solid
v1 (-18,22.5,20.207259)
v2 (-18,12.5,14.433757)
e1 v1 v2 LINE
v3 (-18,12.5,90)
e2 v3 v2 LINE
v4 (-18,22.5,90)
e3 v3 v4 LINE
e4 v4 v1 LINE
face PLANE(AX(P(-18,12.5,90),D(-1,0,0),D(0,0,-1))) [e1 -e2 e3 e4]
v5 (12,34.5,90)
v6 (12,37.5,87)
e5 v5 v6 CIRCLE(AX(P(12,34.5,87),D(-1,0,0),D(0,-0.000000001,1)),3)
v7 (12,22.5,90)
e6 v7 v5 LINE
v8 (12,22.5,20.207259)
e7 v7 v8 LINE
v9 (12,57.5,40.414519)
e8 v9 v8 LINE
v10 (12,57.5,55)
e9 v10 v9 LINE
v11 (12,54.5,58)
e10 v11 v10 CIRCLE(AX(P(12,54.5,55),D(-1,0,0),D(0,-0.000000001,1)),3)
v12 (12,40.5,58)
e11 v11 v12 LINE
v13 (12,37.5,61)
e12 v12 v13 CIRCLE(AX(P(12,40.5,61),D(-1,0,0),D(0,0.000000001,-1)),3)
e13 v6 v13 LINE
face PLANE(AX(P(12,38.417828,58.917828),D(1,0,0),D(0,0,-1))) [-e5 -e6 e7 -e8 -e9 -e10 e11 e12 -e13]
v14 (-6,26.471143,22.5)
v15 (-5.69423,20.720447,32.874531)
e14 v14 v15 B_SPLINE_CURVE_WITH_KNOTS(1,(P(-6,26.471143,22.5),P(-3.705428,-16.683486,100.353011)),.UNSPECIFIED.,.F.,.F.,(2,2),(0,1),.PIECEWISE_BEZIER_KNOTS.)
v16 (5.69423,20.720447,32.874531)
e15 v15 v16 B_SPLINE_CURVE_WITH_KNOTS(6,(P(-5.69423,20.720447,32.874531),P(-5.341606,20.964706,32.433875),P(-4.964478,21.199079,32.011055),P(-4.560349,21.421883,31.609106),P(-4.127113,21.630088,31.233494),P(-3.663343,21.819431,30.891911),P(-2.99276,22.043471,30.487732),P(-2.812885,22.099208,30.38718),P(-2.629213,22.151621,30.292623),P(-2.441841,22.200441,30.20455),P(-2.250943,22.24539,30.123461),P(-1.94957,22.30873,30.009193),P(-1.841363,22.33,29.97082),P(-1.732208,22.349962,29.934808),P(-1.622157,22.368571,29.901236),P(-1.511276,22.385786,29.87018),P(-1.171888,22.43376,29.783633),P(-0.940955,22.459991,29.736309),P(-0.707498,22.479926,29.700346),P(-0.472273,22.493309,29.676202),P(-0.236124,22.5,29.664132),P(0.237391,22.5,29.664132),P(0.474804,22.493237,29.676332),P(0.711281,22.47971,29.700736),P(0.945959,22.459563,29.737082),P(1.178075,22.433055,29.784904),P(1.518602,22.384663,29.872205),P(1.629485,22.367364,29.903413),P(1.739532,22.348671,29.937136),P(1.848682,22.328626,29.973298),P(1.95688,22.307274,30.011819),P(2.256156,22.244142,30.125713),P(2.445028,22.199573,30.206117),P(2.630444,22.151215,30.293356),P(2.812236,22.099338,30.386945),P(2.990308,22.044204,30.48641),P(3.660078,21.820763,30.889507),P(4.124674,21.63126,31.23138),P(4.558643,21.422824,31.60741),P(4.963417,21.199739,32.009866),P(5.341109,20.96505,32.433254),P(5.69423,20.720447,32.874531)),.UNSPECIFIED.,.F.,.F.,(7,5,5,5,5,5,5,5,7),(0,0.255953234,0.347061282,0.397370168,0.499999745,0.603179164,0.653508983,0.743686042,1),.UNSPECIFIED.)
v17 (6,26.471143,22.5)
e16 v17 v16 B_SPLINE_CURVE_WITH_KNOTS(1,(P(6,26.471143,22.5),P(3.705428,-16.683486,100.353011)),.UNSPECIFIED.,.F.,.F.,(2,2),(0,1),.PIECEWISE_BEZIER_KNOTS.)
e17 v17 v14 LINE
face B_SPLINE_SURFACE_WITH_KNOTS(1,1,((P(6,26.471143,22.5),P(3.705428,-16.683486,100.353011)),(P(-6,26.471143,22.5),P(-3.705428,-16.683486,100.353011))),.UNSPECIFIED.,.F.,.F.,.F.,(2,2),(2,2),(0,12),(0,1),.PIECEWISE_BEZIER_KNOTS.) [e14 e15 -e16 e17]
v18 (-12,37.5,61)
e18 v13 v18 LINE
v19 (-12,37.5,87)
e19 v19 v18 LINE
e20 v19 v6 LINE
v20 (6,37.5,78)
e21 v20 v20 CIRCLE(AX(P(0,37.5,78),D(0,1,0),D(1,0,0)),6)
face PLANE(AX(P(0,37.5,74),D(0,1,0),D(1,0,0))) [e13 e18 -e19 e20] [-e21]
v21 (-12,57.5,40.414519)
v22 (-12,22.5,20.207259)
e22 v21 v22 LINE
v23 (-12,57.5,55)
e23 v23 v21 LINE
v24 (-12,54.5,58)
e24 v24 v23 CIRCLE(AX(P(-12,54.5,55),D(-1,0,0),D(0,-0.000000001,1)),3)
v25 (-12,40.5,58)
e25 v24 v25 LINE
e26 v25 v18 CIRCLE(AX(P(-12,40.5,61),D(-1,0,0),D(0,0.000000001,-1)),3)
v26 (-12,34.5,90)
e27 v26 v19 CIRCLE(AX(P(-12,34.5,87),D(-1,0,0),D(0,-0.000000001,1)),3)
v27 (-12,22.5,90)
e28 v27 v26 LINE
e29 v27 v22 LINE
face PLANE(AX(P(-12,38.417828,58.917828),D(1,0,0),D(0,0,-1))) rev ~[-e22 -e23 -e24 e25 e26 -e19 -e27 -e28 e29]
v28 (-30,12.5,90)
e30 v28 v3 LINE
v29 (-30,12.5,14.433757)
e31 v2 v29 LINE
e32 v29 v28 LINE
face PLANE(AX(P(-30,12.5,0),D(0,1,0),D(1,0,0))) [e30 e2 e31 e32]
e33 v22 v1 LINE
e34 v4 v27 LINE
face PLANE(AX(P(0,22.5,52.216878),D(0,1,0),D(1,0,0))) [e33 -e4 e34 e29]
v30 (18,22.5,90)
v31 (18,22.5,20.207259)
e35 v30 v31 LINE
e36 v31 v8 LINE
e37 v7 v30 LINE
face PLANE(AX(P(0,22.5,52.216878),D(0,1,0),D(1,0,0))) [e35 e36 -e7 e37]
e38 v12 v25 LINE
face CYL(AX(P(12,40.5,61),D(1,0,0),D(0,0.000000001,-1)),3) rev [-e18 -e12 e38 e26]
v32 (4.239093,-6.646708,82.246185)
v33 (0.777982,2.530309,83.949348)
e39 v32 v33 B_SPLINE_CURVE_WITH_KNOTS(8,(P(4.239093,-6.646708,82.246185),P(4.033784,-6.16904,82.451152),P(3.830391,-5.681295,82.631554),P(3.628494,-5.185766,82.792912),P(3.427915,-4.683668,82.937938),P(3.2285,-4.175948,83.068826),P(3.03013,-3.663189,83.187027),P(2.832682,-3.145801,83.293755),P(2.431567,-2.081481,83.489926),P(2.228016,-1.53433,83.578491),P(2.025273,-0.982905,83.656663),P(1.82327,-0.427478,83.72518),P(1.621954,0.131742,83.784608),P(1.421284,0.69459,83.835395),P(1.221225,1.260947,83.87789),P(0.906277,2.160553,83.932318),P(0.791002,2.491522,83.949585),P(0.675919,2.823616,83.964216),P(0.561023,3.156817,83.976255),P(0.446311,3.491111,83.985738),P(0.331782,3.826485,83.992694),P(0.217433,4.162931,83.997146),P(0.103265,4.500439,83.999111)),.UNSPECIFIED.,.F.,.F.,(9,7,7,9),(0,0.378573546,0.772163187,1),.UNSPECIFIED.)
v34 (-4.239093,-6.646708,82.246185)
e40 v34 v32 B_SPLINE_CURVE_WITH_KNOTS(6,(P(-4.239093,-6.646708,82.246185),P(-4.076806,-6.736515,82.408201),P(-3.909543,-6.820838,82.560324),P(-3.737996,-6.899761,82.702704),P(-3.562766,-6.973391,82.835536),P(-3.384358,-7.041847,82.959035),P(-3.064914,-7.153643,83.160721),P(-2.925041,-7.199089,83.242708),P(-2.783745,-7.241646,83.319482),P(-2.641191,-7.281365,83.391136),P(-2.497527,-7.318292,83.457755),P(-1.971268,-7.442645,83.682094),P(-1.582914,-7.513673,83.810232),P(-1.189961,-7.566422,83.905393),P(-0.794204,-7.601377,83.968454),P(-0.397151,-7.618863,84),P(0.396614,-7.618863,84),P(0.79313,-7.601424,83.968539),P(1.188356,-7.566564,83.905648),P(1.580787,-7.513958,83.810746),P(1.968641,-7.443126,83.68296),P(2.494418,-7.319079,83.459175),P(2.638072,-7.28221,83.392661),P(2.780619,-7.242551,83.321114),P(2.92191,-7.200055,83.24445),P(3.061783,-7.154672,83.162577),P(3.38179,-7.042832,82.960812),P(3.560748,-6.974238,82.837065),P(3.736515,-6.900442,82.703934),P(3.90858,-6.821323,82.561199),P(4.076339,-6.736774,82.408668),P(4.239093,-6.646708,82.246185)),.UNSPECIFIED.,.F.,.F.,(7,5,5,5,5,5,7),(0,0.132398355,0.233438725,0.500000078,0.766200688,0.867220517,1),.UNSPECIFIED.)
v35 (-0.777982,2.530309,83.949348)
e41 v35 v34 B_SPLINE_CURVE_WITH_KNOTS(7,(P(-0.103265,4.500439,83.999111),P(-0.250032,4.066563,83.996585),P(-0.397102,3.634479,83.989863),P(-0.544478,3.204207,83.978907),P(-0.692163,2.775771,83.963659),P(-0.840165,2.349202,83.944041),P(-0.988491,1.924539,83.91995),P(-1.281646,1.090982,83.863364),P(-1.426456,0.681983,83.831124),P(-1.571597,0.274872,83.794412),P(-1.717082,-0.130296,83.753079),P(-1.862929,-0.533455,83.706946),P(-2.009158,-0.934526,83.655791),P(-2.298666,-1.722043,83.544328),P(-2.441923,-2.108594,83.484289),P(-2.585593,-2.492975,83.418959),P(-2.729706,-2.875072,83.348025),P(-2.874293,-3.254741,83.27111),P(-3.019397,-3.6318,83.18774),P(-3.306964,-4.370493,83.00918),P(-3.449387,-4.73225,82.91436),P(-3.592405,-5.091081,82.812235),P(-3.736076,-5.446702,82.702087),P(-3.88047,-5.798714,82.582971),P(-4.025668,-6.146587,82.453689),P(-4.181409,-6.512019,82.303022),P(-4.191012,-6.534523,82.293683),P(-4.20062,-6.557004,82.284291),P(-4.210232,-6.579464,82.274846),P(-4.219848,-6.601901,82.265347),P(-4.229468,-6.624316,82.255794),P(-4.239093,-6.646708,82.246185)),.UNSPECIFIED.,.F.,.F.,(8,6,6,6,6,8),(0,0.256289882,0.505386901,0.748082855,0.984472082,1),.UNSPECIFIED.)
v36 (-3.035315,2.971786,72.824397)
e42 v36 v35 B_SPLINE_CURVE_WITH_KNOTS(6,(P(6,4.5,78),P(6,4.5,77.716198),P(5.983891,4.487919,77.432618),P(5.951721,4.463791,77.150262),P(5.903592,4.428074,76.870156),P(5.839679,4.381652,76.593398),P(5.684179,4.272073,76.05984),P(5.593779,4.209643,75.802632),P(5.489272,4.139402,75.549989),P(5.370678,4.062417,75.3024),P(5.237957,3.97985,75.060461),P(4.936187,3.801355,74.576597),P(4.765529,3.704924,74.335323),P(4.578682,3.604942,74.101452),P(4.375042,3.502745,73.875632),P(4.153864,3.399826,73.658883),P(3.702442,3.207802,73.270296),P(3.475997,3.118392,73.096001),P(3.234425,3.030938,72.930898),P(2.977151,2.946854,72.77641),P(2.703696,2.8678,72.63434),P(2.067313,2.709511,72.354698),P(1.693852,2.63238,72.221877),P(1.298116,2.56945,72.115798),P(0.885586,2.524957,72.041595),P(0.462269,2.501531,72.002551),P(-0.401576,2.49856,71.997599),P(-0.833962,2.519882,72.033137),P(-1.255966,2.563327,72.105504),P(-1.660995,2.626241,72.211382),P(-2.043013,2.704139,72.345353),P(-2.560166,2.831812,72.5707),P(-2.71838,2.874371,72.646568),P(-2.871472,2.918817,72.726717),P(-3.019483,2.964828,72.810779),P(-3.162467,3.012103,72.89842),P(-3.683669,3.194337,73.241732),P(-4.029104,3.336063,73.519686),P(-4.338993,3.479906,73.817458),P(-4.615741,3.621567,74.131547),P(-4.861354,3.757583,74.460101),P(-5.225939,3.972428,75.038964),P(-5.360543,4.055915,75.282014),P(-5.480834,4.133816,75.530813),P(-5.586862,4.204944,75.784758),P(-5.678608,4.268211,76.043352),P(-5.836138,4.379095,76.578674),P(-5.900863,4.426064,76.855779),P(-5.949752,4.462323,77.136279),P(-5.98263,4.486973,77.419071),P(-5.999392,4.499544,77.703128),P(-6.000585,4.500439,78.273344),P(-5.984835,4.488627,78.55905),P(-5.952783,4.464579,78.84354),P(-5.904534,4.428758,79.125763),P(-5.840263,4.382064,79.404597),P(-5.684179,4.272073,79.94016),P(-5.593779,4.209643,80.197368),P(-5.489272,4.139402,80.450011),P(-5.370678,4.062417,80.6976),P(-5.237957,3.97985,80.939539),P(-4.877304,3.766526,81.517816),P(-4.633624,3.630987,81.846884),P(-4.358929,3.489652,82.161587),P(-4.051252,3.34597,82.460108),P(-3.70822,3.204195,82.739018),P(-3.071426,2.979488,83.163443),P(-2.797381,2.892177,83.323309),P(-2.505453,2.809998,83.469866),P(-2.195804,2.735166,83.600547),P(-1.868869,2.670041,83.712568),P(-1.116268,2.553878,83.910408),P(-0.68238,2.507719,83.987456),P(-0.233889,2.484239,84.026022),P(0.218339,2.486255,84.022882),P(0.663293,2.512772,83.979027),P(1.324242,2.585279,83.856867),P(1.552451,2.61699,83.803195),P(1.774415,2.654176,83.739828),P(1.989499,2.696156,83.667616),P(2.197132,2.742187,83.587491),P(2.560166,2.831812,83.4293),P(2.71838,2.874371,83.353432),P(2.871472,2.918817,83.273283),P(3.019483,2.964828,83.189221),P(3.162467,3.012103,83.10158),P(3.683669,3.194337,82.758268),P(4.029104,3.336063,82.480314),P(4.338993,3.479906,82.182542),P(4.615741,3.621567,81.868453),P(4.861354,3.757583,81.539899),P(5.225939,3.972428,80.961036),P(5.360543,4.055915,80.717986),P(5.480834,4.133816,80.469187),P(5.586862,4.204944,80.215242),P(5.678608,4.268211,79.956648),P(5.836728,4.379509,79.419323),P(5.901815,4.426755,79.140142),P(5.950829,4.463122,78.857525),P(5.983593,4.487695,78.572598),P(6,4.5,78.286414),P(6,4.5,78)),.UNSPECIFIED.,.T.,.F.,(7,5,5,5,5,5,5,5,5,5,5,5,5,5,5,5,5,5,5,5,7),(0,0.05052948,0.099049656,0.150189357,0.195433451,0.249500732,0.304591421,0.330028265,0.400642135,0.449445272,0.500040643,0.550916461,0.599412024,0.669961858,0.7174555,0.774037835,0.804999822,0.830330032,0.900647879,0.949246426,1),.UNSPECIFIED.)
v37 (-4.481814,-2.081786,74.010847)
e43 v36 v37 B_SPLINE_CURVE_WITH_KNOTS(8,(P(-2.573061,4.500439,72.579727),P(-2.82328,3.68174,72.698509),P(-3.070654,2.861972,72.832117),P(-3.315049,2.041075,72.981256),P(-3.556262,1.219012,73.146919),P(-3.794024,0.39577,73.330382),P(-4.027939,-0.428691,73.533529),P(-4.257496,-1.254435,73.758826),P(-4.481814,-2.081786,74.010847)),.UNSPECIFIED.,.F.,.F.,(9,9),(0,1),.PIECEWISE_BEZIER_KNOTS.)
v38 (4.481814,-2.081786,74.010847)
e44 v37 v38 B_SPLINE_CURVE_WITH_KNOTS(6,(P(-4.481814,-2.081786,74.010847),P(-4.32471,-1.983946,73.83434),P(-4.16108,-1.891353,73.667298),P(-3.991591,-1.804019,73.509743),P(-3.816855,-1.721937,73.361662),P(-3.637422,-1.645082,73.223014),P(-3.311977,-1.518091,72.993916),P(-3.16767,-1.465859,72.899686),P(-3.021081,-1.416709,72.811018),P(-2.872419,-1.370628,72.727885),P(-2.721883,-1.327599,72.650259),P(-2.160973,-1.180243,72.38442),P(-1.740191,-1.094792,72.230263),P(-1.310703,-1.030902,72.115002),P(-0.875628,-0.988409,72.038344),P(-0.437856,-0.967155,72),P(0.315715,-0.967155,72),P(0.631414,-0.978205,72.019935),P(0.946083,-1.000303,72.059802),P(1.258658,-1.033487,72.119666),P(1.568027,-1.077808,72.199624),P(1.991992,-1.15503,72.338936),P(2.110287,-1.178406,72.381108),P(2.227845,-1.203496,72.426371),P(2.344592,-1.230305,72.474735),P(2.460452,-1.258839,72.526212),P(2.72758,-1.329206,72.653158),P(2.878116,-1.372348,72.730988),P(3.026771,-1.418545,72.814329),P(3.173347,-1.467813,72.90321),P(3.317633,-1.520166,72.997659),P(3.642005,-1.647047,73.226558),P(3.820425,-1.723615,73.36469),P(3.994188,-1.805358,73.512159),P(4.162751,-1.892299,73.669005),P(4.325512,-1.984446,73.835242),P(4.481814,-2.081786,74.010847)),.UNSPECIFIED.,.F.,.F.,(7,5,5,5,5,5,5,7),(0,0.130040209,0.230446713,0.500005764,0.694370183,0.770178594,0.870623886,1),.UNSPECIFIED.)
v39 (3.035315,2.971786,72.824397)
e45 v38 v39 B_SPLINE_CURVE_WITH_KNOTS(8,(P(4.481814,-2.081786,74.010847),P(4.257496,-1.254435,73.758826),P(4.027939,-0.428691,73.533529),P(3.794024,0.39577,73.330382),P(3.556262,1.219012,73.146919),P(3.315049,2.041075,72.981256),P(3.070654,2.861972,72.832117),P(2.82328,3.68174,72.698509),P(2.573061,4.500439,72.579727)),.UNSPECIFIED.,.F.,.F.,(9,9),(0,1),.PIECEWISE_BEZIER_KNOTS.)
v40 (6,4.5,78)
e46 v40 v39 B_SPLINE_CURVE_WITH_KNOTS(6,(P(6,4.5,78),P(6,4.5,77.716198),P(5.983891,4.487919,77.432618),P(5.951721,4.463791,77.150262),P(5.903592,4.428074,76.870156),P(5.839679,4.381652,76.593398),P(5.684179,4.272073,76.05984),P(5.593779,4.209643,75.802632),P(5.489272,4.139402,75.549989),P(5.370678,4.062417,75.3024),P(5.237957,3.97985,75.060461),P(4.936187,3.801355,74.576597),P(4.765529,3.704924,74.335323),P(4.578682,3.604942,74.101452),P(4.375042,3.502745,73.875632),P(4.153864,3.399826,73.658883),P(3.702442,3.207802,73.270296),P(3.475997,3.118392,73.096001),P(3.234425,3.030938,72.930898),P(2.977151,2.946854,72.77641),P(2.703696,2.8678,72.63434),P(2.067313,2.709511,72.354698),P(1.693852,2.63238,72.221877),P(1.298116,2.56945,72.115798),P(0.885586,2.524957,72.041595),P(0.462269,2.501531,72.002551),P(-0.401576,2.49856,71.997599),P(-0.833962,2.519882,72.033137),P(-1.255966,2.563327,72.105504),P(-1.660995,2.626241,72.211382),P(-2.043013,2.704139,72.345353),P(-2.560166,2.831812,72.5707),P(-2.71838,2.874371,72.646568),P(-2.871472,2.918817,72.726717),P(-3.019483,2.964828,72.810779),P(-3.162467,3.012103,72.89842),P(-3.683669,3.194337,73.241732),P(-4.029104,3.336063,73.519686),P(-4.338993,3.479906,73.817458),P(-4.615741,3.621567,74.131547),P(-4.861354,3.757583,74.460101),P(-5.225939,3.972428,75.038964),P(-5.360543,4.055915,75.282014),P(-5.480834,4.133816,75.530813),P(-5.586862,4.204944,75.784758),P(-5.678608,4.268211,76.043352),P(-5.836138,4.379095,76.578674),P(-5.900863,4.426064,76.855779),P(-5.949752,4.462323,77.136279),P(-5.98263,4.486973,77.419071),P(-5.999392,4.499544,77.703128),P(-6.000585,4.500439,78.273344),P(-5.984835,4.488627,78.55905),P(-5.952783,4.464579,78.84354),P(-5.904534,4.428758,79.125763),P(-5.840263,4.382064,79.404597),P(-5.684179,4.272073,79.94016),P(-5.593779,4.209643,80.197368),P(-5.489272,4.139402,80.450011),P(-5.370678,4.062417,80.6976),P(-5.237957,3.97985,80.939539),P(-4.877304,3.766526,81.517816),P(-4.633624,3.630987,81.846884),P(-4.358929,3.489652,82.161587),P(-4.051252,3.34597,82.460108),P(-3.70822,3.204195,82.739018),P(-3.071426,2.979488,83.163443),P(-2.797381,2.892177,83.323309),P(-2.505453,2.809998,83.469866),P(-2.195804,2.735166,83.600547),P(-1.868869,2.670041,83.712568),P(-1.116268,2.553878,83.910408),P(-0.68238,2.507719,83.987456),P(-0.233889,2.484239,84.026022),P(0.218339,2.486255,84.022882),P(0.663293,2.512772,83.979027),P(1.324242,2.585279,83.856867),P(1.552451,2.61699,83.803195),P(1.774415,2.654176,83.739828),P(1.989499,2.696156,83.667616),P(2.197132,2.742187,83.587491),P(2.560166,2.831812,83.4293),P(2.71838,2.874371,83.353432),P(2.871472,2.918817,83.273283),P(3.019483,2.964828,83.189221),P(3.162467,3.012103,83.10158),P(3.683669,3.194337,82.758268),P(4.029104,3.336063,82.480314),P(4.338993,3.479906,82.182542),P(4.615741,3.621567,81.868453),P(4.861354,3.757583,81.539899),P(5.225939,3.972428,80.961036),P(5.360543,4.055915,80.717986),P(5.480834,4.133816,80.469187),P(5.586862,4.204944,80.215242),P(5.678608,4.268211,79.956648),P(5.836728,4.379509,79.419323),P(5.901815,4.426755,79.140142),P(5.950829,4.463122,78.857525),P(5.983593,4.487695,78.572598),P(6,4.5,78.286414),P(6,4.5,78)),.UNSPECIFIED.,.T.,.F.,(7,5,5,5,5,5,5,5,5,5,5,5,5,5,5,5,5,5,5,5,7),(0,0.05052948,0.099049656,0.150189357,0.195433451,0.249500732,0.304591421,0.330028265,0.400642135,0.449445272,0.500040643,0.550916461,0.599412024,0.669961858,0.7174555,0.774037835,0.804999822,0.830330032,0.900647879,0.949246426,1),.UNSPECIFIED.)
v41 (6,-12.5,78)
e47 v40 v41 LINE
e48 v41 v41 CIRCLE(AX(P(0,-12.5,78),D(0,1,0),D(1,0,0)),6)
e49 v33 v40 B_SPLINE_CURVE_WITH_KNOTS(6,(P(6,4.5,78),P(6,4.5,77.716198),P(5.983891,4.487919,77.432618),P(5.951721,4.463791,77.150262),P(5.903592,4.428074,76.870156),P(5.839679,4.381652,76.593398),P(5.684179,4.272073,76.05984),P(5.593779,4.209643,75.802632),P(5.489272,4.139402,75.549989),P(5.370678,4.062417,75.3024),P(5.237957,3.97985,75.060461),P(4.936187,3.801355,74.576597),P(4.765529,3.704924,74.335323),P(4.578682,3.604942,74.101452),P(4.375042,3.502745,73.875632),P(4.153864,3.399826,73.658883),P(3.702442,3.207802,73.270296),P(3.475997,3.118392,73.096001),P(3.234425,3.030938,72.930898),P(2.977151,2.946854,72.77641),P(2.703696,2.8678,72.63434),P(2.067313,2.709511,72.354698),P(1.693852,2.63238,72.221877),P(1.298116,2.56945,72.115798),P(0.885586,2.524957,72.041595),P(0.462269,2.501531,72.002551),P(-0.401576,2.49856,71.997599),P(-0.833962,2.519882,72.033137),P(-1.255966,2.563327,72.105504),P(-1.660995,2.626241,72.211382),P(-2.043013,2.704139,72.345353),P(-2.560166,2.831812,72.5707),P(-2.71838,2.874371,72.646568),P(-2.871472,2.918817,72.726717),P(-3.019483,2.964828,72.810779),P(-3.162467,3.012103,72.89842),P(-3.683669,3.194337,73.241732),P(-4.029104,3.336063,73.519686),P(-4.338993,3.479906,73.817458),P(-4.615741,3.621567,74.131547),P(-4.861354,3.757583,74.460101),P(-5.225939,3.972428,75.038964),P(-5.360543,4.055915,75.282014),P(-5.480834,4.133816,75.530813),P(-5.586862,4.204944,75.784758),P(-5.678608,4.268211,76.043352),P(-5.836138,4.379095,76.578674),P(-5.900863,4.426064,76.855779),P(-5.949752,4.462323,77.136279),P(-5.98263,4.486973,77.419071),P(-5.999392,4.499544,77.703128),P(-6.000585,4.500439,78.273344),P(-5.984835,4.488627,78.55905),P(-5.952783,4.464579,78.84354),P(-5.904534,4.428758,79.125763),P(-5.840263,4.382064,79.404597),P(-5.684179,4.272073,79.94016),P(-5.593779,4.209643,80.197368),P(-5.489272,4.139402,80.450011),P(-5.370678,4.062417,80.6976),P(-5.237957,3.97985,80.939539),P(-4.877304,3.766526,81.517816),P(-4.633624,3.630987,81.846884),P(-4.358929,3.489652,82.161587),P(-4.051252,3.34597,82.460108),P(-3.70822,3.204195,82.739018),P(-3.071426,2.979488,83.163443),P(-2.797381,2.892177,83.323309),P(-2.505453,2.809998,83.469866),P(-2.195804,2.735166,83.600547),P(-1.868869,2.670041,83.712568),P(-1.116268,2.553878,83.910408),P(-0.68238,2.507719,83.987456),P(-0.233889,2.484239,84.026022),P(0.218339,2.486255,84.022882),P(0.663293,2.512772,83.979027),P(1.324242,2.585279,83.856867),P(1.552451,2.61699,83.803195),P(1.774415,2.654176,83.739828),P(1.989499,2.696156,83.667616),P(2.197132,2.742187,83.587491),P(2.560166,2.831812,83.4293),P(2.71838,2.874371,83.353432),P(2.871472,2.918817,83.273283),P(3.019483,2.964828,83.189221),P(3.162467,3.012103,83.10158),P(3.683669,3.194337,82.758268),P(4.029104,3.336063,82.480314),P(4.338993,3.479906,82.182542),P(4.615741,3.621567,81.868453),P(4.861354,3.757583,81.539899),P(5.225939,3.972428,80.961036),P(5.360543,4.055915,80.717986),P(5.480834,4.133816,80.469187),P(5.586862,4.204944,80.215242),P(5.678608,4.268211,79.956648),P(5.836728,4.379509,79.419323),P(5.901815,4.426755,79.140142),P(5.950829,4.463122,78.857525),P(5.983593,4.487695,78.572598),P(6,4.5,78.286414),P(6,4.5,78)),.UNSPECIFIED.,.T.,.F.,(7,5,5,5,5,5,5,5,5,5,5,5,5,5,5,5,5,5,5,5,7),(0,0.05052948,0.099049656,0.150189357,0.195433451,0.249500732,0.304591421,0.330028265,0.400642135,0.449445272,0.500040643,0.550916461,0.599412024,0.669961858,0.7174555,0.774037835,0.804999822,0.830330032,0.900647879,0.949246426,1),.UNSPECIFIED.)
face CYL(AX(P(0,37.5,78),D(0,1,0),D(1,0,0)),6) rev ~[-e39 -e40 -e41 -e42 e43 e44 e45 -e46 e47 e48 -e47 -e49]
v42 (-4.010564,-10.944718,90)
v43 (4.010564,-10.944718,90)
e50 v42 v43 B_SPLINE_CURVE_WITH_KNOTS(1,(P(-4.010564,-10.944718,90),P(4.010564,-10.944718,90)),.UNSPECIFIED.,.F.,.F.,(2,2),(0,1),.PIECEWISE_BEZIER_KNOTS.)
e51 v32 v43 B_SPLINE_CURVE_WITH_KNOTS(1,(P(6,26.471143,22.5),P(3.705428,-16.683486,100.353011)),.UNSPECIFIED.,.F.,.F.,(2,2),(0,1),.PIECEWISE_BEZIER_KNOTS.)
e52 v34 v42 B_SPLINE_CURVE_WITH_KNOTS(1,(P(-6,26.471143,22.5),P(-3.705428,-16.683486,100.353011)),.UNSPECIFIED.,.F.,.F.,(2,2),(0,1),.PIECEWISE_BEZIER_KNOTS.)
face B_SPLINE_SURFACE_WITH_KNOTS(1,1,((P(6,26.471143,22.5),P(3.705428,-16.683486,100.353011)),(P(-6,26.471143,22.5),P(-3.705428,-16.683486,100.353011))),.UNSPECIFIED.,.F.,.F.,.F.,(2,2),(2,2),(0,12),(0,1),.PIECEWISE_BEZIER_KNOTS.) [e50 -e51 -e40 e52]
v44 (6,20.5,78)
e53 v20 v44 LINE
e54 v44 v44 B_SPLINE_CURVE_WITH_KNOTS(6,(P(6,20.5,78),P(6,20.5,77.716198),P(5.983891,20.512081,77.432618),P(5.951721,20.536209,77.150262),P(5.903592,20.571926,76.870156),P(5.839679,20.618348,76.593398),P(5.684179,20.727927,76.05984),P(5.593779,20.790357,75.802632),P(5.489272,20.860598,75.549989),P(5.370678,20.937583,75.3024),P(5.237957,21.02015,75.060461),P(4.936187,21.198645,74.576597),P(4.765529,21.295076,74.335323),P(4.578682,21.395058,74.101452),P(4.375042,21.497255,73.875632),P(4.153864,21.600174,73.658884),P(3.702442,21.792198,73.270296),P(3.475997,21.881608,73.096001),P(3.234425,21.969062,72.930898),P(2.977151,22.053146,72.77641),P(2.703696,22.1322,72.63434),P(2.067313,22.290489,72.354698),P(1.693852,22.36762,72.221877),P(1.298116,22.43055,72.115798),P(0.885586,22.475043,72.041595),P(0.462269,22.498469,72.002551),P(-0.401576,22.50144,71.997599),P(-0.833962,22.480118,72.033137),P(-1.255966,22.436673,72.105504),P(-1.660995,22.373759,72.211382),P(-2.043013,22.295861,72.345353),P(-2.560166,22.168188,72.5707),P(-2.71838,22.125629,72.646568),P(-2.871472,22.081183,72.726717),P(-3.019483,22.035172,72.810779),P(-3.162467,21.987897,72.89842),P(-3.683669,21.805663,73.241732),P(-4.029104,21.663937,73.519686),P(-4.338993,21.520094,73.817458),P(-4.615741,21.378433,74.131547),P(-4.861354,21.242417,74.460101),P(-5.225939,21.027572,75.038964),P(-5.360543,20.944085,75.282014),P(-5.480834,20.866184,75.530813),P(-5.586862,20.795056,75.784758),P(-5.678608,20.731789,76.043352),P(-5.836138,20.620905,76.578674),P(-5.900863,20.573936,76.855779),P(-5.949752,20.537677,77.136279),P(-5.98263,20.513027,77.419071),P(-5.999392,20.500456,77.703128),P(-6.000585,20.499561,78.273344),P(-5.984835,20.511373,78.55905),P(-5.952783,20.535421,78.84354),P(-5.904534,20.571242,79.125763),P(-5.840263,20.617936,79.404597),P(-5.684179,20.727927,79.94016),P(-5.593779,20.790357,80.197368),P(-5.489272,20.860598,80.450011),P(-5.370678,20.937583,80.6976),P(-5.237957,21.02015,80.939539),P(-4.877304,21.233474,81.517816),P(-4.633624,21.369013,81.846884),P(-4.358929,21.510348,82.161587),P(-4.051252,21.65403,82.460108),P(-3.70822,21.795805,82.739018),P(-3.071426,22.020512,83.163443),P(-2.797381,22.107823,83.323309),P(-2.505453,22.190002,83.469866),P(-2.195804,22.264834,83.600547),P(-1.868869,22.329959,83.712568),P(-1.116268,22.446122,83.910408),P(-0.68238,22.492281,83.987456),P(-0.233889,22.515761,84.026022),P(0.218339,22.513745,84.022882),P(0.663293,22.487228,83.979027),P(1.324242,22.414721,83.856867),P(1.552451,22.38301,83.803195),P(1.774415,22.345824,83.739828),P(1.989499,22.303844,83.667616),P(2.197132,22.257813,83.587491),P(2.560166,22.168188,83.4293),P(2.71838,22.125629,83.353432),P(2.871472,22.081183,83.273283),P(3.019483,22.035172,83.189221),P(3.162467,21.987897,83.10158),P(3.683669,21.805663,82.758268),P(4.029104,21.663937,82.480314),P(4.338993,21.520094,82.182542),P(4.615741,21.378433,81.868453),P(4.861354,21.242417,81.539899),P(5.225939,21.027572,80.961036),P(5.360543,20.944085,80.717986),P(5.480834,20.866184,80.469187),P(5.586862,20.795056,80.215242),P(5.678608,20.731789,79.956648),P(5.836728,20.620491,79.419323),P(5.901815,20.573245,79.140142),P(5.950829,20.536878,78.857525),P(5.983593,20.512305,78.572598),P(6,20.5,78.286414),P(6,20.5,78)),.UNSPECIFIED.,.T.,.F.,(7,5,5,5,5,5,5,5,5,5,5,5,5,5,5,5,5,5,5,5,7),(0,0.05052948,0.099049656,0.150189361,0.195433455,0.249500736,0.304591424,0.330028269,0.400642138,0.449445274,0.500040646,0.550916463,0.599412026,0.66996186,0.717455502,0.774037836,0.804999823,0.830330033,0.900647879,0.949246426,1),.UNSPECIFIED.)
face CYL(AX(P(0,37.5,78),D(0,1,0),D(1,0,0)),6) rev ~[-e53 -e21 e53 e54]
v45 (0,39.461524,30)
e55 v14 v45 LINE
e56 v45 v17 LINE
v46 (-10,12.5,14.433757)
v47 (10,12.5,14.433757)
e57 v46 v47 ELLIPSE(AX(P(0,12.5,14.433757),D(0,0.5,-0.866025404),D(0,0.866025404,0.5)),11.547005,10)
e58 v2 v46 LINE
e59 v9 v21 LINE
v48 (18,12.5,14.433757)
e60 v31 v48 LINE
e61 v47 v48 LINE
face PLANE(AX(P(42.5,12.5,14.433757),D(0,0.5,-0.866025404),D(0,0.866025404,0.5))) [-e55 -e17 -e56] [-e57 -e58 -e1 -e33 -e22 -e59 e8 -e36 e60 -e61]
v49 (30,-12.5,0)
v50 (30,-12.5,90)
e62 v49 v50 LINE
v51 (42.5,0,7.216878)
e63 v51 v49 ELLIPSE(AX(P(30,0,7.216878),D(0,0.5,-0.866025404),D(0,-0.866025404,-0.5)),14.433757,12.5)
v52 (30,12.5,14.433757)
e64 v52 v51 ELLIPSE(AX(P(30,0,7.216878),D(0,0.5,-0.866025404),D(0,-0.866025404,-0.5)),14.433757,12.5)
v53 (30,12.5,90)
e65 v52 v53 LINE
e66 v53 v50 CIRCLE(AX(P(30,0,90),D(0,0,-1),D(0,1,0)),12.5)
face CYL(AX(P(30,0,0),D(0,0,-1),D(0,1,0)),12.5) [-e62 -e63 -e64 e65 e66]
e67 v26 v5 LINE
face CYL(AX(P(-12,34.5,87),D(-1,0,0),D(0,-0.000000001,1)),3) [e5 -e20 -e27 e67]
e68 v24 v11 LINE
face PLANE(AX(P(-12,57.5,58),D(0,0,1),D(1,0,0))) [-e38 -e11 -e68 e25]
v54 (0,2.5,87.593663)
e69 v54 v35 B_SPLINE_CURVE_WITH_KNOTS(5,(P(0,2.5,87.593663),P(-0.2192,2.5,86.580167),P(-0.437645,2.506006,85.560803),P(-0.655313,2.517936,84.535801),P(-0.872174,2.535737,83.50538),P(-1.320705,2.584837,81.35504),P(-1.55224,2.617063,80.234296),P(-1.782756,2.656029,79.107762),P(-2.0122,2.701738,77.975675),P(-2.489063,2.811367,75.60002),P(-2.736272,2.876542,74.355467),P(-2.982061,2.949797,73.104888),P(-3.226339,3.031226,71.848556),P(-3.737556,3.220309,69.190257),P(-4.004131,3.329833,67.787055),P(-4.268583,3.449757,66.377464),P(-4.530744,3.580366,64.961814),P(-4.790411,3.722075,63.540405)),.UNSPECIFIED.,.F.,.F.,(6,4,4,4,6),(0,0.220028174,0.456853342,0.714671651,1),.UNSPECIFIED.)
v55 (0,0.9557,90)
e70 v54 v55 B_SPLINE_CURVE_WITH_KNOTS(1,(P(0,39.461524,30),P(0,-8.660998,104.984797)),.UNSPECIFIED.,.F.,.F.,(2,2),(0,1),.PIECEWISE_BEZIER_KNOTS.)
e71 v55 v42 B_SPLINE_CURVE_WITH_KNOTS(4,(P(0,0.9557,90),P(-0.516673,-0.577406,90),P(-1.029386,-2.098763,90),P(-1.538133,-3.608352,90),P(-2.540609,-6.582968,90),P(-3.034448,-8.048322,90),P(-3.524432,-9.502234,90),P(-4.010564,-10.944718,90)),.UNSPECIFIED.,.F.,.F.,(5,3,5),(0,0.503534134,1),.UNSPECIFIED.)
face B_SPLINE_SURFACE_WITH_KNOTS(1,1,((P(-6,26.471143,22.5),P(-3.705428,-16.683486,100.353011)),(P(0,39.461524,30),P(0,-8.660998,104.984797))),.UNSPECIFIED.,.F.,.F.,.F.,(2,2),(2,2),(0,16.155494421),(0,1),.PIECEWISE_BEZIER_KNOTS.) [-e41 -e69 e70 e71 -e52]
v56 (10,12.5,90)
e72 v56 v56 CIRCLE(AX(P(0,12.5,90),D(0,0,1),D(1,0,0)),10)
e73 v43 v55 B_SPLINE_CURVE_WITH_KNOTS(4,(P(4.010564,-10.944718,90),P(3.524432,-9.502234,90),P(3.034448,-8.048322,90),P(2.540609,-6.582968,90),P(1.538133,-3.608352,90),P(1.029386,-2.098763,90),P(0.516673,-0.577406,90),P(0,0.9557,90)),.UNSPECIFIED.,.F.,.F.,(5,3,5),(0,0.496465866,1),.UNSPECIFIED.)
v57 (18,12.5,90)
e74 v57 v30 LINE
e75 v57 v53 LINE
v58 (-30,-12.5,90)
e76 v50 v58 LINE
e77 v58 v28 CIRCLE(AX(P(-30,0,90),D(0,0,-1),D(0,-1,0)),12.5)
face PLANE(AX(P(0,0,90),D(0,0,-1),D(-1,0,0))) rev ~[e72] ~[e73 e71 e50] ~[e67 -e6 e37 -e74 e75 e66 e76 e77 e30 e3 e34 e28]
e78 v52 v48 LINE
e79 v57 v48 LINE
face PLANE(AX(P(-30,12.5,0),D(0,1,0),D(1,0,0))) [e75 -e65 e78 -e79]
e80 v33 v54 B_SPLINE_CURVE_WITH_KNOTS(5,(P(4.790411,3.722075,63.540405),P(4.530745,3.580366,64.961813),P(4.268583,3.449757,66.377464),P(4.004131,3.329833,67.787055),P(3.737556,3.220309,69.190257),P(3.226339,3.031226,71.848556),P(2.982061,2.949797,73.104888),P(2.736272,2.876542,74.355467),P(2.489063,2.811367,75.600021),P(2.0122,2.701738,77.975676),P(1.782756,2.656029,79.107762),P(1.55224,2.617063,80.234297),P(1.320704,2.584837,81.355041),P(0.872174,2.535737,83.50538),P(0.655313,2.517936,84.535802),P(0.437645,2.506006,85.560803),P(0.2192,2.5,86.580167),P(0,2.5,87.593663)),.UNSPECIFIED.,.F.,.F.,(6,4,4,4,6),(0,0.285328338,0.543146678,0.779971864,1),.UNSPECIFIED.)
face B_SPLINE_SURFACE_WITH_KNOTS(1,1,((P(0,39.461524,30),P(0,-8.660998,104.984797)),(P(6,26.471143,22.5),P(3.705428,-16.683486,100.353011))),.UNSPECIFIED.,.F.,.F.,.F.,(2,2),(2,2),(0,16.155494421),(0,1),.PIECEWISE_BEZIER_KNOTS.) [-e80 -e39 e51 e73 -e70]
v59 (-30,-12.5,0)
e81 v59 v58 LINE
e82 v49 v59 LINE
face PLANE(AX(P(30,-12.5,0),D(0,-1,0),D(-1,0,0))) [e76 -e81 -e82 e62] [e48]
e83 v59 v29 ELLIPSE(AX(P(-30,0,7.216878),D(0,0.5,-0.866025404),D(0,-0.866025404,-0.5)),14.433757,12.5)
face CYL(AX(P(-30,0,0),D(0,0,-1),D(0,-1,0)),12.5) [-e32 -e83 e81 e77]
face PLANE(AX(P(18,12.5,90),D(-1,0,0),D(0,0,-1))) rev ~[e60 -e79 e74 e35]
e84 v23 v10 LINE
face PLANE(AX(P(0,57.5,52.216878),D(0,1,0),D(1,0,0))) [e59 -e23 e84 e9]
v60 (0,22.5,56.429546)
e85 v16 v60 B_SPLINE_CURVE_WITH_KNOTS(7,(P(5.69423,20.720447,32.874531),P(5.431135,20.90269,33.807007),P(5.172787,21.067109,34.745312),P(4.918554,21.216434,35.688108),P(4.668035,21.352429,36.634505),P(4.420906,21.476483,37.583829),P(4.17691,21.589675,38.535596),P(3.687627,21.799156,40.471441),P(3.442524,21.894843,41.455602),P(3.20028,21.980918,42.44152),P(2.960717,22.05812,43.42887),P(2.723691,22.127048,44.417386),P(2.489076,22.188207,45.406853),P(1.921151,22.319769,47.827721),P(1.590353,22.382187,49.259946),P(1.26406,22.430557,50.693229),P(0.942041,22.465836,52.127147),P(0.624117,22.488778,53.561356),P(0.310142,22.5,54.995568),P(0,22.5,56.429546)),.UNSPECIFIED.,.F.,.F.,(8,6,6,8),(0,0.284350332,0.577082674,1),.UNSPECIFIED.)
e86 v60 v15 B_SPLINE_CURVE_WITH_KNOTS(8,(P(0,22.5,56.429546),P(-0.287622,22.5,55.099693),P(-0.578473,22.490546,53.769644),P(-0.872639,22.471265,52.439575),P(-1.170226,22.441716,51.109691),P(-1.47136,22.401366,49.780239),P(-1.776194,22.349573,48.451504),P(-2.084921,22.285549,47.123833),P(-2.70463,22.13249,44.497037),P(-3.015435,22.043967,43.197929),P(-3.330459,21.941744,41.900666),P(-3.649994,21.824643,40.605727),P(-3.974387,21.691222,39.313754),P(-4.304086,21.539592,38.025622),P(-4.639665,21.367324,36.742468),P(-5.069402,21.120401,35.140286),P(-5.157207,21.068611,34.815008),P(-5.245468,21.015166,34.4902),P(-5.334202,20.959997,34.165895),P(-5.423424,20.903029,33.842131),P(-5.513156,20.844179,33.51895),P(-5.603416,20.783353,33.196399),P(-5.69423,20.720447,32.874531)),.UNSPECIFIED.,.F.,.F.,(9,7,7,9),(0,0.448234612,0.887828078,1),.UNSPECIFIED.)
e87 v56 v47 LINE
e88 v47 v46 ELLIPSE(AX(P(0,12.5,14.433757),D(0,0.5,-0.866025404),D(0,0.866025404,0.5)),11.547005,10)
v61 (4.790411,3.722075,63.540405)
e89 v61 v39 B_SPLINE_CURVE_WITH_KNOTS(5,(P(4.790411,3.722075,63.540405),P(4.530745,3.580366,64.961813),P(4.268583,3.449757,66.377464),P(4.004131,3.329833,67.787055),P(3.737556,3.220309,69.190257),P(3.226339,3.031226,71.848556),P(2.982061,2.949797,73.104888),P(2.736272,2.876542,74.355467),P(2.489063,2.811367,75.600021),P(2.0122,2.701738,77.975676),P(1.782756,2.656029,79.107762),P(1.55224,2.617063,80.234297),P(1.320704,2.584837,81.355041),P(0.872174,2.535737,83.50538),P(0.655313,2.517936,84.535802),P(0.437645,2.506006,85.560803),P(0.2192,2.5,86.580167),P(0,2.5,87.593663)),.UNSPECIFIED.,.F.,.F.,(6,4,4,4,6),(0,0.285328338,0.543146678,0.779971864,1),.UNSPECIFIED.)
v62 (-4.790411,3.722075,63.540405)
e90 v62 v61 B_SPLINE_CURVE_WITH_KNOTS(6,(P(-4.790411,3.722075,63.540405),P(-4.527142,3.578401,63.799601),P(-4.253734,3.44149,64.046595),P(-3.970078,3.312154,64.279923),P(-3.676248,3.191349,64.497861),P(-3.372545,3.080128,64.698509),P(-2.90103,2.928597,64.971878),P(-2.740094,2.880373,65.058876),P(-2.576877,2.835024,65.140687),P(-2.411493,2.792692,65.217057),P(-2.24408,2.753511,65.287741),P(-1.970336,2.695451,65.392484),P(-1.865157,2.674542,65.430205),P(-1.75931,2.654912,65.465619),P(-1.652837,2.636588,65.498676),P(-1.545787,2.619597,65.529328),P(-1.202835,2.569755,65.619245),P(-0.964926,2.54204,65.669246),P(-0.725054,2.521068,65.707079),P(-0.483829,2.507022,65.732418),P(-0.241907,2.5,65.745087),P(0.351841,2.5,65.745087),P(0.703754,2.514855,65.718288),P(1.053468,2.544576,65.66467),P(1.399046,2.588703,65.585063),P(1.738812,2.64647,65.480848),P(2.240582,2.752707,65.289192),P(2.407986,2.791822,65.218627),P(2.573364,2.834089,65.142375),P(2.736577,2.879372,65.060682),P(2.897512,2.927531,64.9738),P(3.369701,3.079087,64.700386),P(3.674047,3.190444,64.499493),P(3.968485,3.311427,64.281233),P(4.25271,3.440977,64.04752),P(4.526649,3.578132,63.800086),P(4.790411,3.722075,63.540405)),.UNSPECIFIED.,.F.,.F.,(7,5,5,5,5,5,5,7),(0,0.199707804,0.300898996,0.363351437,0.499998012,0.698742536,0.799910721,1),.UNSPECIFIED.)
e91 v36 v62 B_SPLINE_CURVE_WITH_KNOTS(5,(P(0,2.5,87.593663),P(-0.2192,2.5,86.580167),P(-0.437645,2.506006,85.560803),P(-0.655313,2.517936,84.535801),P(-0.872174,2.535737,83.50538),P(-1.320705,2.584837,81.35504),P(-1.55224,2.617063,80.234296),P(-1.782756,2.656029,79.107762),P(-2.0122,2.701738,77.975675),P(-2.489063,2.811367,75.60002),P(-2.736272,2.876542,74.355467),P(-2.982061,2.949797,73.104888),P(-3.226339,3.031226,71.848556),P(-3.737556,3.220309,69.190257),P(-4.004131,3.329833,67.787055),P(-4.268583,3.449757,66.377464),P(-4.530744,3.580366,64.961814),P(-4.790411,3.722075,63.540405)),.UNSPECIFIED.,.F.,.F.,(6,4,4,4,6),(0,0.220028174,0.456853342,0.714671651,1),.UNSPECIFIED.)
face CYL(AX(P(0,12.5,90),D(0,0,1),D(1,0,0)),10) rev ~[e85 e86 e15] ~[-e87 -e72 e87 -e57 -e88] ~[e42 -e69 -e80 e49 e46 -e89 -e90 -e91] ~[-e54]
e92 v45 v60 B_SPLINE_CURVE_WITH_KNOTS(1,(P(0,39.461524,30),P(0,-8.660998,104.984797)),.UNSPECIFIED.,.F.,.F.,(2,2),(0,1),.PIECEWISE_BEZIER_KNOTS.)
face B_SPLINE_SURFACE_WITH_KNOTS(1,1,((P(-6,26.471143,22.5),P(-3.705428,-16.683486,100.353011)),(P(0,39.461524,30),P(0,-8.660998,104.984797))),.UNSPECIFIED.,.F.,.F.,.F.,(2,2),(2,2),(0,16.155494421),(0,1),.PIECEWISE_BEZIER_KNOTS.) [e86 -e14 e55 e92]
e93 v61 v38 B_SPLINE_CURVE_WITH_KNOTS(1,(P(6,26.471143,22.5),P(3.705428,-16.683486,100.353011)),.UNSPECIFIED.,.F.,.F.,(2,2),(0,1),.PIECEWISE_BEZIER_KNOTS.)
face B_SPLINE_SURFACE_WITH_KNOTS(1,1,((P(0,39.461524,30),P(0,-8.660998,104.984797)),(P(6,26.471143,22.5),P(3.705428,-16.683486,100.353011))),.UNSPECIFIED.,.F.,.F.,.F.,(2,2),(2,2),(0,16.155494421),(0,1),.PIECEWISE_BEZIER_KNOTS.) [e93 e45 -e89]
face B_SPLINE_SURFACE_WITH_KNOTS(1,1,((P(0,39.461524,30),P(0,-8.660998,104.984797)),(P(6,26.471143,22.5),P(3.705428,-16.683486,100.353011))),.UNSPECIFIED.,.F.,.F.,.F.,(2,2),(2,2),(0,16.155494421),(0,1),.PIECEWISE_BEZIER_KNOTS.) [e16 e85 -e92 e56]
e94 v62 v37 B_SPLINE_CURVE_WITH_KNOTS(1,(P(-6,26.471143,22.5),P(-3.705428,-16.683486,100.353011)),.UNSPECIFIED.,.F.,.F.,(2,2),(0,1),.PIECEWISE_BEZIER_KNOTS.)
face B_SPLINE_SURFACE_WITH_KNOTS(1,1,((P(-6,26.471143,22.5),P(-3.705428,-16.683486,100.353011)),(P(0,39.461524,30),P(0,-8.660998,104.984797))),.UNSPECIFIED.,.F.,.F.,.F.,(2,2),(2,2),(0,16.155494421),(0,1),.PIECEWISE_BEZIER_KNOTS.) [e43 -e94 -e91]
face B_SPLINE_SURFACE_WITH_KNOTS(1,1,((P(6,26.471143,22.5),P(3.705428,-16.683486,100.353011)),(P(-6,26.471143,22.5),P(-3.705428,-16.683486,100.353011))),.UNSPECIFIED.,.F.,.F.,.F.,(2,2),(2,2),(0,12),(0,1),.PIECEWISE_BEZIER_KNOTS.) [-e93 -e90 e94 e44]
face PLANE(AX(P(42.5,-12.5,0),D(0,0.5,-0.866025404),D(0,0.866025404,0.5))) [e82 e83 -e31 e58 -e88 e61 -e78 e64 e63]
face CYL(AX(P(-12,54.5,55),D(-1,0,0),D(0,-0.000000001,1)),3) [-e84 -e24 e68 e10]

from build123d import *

# Parameters (mm, degrees)
BOSS_EXTRUDE1_DEPTH = 90
CUT_EXTRUDE1_DEPTH  = 90
SKETCH3_W           = 36
SKETCH3_H           = 75.56624327
BOSS_EXTRUDE2_DEPTH = 10
SKETCH4_W           = 24
SKETCH4_H           = 75.56624327
BOSS_EXTRUDE3_DEPTH = 35
SKETCH5_W           = 24
SKETCH5_H           = 32
CUT_EXTRUDE2_DEPTH  = 20
CUT_EXTRUDE3_DEPTH  = 440
SKETCH9_R           = 10
CUT_EXTRUDE6_DEPTH  = 440
SKETCH11_R          = 6
CUT_EXTRUDE7_DEPTH  = 440
CUT_EXTRUDE8_DEPTH  = 440
CUT_EXTRUDE9_DEPTH  = 440
CUT_EXTRUDE10_DEPTH = 89
CUT_EXTRUDE10_TAPER = 1
BOSS_EXTRUDE4_DEPTH = 24


with BuildPart() as part:
    # Sketch1 → Boss-Extrude1 (new body)
    with BuildSketch(Plane.XY):
        with BuildLine():
            Line((-30, 12.5), (30, 12.5))
            ThreePointArc((30, 12.5), (42.5, 0), (30, -12.5))
            Line((30, -12.5), (-30, -12.5))
            ThreePointArc((-30, -12.5), (-42.5, 0), (-30, 12.5))
        make_face()
    extrude(amount=BOSS_EXTRUDE1_DEPTH)

    # Sketch2 → Cut-Extrude1 (cut)
    with BuildSketch(Plane(origin=(42.5, 0, 0), x_dir=(0, 0, -1), z_dir=(1, 0, 0))):
        Polygon((0, -12.5), (-14.43375673, 12.5), (0, 12.5), align=None)
    extrude(amount=-CUT_EXTRUDE1_DEPTH, mode=Mode.SUBTRACT)

    # Sketch3 → Boss-Extrude2 (add)
    with BuildSketch(Plane(origin=(0, 12.5, 0), x_dir=(1, 0, 0), z_dir=(0, 1, 0))):
        with Locations((0, -52.216878365)):
            Rectangle(SKETCH3_W, SKETCH3_H)
    extrude(amount=BOSS_EXTRUDE2_DEPTH)

    # Sketch4 → Boss-Extrude3 (add)
    with BuildSketch(Plane(origin=(0, 22.5, 0), x_dir=(1, 0, 0), z_dir=(0, 1, 0))):
        with Locations((0, -52.216878365)):
            Rectangle(SKETCH4_W, SKETCH4_H)
    extrude(amount=BOSS_EXTRUDE3_DEPTH)

    # Sketch5 → Cut-Extrude2 (cut)
    with BuildSketch(Plane(origin=(0, 57.5, 0), x_dir=(1, 0, 0), z_dir=(0, 1, 0))):
        with Locations((0, -74)):
            Rectangle(SKETCH5_W, SKETCH5_H)
    extrude(amount=-CUT_EXTRUDE2_DEPTH, mode=Mode.SUBTRACT)

    # Sketch6 → Cut-Extrude3 (cut)
    with BuildSketch(Plane(origin=(42.5, 0, 0), x_dir=(0, 0, -1), z_dir=(1, 0, 0))):
        Polygon((-14.43375673, 12.5), (-40.414518843, 57.5), (-14.43375673, 57.5), align=None)
    extrude(amount=-CUT_EXTRUDE3_DEPTH, mode=Mode.SUBTRACT)

    # Sketch9 → Cut-Extrude6 (cut)
    with BuildSketch(Plane.XY.offset(90)):
        with Locations((0, 12.5)):
            Circle(SKETCH9_R)
    extrude(amount=-CUT_EXTRUDE6_DEPTH, mode=Mode.SUBTRACT)

    # Sketch11 → Cut-Extrude7 (cut)
    with BuildSketch(Plane(origin=(0, 37.5, 0), x_dir=(1, 0, 0), z_dir=(0, 1, 0))):
        with Locations((0, -78)):
            Circle(SKETCH11_R)
    extrude(amount=-CUT_EXTRUDE7_DEPTH, mode=Mode.SUBTRACT)

    # Sketch12 → Cut-Extrude8 (cut)
    with BuildSketch(Plane.ZY.offset(12)):
        with BuildLine():
            Line((55, 57.5), (58, 57.5))
            Line((58, 57.5), (58, 54.5))
            ThreePointArc((58, 54.5), (57.121320344, 56.621320344), (55, 57.5))
        make_face()
    extrude(amount=-CUT_EXTRUDE8_DEPTH, mode=Mode.SUBTRACT)

    # Sketch13 → Cut-Extrude9 (cut)
    with BuildSketch(Plane.ZY.offset(12)):
        with BuildLine():
            Line((87, 37.5), (90, 37.5))
            Line((90, 37.5), (90, 34.5))
            ThreePointArc((90, 34.5), (89.121320344, 36.621320344), (87, 37.5))
        make_face()
    extrude(amount=-CUT_EXTRUDE9_DEPTH, mode=Mode.SUBTRACT)

    # Sketch14 → Cut-Extrude10 (cut)
    with BuildSketch(Plane(origin=(0, -3.125, 5.412658774), x_dir=(-1, 0, 0), z_dir=(0, 0.5, -0.866025404))):
        Polygon((-6, 34.174682453), (6, 34.174682453), (0, 49.174682453), align=None)
    extrude(amount=-CUT_EXTRUDE10_DEPTH, taper=CUT_EXTRUDE10_TAPER, mode=Mode.SUBTRACT)

    # Sketch16 → Boss-Extrude4 (add)
    with BuildSketch(Plane(origin=(12, 0, 0), x_dir=(0, 0, -1), z_dir=(1, 0, 0))):
        with BuildLine():
            Line((-61, 37.5), (-58, 37.5))
            Line((-58, 37.5), (-58, 40.5))
            ThreePointArc((-58, 40.5), (-58.878679656, 38.378679656), (-61, 37.5))
        make_face()
    extrude(amount=-BOSS_EXTRUDE4_DEPTH)


solid = part.part
